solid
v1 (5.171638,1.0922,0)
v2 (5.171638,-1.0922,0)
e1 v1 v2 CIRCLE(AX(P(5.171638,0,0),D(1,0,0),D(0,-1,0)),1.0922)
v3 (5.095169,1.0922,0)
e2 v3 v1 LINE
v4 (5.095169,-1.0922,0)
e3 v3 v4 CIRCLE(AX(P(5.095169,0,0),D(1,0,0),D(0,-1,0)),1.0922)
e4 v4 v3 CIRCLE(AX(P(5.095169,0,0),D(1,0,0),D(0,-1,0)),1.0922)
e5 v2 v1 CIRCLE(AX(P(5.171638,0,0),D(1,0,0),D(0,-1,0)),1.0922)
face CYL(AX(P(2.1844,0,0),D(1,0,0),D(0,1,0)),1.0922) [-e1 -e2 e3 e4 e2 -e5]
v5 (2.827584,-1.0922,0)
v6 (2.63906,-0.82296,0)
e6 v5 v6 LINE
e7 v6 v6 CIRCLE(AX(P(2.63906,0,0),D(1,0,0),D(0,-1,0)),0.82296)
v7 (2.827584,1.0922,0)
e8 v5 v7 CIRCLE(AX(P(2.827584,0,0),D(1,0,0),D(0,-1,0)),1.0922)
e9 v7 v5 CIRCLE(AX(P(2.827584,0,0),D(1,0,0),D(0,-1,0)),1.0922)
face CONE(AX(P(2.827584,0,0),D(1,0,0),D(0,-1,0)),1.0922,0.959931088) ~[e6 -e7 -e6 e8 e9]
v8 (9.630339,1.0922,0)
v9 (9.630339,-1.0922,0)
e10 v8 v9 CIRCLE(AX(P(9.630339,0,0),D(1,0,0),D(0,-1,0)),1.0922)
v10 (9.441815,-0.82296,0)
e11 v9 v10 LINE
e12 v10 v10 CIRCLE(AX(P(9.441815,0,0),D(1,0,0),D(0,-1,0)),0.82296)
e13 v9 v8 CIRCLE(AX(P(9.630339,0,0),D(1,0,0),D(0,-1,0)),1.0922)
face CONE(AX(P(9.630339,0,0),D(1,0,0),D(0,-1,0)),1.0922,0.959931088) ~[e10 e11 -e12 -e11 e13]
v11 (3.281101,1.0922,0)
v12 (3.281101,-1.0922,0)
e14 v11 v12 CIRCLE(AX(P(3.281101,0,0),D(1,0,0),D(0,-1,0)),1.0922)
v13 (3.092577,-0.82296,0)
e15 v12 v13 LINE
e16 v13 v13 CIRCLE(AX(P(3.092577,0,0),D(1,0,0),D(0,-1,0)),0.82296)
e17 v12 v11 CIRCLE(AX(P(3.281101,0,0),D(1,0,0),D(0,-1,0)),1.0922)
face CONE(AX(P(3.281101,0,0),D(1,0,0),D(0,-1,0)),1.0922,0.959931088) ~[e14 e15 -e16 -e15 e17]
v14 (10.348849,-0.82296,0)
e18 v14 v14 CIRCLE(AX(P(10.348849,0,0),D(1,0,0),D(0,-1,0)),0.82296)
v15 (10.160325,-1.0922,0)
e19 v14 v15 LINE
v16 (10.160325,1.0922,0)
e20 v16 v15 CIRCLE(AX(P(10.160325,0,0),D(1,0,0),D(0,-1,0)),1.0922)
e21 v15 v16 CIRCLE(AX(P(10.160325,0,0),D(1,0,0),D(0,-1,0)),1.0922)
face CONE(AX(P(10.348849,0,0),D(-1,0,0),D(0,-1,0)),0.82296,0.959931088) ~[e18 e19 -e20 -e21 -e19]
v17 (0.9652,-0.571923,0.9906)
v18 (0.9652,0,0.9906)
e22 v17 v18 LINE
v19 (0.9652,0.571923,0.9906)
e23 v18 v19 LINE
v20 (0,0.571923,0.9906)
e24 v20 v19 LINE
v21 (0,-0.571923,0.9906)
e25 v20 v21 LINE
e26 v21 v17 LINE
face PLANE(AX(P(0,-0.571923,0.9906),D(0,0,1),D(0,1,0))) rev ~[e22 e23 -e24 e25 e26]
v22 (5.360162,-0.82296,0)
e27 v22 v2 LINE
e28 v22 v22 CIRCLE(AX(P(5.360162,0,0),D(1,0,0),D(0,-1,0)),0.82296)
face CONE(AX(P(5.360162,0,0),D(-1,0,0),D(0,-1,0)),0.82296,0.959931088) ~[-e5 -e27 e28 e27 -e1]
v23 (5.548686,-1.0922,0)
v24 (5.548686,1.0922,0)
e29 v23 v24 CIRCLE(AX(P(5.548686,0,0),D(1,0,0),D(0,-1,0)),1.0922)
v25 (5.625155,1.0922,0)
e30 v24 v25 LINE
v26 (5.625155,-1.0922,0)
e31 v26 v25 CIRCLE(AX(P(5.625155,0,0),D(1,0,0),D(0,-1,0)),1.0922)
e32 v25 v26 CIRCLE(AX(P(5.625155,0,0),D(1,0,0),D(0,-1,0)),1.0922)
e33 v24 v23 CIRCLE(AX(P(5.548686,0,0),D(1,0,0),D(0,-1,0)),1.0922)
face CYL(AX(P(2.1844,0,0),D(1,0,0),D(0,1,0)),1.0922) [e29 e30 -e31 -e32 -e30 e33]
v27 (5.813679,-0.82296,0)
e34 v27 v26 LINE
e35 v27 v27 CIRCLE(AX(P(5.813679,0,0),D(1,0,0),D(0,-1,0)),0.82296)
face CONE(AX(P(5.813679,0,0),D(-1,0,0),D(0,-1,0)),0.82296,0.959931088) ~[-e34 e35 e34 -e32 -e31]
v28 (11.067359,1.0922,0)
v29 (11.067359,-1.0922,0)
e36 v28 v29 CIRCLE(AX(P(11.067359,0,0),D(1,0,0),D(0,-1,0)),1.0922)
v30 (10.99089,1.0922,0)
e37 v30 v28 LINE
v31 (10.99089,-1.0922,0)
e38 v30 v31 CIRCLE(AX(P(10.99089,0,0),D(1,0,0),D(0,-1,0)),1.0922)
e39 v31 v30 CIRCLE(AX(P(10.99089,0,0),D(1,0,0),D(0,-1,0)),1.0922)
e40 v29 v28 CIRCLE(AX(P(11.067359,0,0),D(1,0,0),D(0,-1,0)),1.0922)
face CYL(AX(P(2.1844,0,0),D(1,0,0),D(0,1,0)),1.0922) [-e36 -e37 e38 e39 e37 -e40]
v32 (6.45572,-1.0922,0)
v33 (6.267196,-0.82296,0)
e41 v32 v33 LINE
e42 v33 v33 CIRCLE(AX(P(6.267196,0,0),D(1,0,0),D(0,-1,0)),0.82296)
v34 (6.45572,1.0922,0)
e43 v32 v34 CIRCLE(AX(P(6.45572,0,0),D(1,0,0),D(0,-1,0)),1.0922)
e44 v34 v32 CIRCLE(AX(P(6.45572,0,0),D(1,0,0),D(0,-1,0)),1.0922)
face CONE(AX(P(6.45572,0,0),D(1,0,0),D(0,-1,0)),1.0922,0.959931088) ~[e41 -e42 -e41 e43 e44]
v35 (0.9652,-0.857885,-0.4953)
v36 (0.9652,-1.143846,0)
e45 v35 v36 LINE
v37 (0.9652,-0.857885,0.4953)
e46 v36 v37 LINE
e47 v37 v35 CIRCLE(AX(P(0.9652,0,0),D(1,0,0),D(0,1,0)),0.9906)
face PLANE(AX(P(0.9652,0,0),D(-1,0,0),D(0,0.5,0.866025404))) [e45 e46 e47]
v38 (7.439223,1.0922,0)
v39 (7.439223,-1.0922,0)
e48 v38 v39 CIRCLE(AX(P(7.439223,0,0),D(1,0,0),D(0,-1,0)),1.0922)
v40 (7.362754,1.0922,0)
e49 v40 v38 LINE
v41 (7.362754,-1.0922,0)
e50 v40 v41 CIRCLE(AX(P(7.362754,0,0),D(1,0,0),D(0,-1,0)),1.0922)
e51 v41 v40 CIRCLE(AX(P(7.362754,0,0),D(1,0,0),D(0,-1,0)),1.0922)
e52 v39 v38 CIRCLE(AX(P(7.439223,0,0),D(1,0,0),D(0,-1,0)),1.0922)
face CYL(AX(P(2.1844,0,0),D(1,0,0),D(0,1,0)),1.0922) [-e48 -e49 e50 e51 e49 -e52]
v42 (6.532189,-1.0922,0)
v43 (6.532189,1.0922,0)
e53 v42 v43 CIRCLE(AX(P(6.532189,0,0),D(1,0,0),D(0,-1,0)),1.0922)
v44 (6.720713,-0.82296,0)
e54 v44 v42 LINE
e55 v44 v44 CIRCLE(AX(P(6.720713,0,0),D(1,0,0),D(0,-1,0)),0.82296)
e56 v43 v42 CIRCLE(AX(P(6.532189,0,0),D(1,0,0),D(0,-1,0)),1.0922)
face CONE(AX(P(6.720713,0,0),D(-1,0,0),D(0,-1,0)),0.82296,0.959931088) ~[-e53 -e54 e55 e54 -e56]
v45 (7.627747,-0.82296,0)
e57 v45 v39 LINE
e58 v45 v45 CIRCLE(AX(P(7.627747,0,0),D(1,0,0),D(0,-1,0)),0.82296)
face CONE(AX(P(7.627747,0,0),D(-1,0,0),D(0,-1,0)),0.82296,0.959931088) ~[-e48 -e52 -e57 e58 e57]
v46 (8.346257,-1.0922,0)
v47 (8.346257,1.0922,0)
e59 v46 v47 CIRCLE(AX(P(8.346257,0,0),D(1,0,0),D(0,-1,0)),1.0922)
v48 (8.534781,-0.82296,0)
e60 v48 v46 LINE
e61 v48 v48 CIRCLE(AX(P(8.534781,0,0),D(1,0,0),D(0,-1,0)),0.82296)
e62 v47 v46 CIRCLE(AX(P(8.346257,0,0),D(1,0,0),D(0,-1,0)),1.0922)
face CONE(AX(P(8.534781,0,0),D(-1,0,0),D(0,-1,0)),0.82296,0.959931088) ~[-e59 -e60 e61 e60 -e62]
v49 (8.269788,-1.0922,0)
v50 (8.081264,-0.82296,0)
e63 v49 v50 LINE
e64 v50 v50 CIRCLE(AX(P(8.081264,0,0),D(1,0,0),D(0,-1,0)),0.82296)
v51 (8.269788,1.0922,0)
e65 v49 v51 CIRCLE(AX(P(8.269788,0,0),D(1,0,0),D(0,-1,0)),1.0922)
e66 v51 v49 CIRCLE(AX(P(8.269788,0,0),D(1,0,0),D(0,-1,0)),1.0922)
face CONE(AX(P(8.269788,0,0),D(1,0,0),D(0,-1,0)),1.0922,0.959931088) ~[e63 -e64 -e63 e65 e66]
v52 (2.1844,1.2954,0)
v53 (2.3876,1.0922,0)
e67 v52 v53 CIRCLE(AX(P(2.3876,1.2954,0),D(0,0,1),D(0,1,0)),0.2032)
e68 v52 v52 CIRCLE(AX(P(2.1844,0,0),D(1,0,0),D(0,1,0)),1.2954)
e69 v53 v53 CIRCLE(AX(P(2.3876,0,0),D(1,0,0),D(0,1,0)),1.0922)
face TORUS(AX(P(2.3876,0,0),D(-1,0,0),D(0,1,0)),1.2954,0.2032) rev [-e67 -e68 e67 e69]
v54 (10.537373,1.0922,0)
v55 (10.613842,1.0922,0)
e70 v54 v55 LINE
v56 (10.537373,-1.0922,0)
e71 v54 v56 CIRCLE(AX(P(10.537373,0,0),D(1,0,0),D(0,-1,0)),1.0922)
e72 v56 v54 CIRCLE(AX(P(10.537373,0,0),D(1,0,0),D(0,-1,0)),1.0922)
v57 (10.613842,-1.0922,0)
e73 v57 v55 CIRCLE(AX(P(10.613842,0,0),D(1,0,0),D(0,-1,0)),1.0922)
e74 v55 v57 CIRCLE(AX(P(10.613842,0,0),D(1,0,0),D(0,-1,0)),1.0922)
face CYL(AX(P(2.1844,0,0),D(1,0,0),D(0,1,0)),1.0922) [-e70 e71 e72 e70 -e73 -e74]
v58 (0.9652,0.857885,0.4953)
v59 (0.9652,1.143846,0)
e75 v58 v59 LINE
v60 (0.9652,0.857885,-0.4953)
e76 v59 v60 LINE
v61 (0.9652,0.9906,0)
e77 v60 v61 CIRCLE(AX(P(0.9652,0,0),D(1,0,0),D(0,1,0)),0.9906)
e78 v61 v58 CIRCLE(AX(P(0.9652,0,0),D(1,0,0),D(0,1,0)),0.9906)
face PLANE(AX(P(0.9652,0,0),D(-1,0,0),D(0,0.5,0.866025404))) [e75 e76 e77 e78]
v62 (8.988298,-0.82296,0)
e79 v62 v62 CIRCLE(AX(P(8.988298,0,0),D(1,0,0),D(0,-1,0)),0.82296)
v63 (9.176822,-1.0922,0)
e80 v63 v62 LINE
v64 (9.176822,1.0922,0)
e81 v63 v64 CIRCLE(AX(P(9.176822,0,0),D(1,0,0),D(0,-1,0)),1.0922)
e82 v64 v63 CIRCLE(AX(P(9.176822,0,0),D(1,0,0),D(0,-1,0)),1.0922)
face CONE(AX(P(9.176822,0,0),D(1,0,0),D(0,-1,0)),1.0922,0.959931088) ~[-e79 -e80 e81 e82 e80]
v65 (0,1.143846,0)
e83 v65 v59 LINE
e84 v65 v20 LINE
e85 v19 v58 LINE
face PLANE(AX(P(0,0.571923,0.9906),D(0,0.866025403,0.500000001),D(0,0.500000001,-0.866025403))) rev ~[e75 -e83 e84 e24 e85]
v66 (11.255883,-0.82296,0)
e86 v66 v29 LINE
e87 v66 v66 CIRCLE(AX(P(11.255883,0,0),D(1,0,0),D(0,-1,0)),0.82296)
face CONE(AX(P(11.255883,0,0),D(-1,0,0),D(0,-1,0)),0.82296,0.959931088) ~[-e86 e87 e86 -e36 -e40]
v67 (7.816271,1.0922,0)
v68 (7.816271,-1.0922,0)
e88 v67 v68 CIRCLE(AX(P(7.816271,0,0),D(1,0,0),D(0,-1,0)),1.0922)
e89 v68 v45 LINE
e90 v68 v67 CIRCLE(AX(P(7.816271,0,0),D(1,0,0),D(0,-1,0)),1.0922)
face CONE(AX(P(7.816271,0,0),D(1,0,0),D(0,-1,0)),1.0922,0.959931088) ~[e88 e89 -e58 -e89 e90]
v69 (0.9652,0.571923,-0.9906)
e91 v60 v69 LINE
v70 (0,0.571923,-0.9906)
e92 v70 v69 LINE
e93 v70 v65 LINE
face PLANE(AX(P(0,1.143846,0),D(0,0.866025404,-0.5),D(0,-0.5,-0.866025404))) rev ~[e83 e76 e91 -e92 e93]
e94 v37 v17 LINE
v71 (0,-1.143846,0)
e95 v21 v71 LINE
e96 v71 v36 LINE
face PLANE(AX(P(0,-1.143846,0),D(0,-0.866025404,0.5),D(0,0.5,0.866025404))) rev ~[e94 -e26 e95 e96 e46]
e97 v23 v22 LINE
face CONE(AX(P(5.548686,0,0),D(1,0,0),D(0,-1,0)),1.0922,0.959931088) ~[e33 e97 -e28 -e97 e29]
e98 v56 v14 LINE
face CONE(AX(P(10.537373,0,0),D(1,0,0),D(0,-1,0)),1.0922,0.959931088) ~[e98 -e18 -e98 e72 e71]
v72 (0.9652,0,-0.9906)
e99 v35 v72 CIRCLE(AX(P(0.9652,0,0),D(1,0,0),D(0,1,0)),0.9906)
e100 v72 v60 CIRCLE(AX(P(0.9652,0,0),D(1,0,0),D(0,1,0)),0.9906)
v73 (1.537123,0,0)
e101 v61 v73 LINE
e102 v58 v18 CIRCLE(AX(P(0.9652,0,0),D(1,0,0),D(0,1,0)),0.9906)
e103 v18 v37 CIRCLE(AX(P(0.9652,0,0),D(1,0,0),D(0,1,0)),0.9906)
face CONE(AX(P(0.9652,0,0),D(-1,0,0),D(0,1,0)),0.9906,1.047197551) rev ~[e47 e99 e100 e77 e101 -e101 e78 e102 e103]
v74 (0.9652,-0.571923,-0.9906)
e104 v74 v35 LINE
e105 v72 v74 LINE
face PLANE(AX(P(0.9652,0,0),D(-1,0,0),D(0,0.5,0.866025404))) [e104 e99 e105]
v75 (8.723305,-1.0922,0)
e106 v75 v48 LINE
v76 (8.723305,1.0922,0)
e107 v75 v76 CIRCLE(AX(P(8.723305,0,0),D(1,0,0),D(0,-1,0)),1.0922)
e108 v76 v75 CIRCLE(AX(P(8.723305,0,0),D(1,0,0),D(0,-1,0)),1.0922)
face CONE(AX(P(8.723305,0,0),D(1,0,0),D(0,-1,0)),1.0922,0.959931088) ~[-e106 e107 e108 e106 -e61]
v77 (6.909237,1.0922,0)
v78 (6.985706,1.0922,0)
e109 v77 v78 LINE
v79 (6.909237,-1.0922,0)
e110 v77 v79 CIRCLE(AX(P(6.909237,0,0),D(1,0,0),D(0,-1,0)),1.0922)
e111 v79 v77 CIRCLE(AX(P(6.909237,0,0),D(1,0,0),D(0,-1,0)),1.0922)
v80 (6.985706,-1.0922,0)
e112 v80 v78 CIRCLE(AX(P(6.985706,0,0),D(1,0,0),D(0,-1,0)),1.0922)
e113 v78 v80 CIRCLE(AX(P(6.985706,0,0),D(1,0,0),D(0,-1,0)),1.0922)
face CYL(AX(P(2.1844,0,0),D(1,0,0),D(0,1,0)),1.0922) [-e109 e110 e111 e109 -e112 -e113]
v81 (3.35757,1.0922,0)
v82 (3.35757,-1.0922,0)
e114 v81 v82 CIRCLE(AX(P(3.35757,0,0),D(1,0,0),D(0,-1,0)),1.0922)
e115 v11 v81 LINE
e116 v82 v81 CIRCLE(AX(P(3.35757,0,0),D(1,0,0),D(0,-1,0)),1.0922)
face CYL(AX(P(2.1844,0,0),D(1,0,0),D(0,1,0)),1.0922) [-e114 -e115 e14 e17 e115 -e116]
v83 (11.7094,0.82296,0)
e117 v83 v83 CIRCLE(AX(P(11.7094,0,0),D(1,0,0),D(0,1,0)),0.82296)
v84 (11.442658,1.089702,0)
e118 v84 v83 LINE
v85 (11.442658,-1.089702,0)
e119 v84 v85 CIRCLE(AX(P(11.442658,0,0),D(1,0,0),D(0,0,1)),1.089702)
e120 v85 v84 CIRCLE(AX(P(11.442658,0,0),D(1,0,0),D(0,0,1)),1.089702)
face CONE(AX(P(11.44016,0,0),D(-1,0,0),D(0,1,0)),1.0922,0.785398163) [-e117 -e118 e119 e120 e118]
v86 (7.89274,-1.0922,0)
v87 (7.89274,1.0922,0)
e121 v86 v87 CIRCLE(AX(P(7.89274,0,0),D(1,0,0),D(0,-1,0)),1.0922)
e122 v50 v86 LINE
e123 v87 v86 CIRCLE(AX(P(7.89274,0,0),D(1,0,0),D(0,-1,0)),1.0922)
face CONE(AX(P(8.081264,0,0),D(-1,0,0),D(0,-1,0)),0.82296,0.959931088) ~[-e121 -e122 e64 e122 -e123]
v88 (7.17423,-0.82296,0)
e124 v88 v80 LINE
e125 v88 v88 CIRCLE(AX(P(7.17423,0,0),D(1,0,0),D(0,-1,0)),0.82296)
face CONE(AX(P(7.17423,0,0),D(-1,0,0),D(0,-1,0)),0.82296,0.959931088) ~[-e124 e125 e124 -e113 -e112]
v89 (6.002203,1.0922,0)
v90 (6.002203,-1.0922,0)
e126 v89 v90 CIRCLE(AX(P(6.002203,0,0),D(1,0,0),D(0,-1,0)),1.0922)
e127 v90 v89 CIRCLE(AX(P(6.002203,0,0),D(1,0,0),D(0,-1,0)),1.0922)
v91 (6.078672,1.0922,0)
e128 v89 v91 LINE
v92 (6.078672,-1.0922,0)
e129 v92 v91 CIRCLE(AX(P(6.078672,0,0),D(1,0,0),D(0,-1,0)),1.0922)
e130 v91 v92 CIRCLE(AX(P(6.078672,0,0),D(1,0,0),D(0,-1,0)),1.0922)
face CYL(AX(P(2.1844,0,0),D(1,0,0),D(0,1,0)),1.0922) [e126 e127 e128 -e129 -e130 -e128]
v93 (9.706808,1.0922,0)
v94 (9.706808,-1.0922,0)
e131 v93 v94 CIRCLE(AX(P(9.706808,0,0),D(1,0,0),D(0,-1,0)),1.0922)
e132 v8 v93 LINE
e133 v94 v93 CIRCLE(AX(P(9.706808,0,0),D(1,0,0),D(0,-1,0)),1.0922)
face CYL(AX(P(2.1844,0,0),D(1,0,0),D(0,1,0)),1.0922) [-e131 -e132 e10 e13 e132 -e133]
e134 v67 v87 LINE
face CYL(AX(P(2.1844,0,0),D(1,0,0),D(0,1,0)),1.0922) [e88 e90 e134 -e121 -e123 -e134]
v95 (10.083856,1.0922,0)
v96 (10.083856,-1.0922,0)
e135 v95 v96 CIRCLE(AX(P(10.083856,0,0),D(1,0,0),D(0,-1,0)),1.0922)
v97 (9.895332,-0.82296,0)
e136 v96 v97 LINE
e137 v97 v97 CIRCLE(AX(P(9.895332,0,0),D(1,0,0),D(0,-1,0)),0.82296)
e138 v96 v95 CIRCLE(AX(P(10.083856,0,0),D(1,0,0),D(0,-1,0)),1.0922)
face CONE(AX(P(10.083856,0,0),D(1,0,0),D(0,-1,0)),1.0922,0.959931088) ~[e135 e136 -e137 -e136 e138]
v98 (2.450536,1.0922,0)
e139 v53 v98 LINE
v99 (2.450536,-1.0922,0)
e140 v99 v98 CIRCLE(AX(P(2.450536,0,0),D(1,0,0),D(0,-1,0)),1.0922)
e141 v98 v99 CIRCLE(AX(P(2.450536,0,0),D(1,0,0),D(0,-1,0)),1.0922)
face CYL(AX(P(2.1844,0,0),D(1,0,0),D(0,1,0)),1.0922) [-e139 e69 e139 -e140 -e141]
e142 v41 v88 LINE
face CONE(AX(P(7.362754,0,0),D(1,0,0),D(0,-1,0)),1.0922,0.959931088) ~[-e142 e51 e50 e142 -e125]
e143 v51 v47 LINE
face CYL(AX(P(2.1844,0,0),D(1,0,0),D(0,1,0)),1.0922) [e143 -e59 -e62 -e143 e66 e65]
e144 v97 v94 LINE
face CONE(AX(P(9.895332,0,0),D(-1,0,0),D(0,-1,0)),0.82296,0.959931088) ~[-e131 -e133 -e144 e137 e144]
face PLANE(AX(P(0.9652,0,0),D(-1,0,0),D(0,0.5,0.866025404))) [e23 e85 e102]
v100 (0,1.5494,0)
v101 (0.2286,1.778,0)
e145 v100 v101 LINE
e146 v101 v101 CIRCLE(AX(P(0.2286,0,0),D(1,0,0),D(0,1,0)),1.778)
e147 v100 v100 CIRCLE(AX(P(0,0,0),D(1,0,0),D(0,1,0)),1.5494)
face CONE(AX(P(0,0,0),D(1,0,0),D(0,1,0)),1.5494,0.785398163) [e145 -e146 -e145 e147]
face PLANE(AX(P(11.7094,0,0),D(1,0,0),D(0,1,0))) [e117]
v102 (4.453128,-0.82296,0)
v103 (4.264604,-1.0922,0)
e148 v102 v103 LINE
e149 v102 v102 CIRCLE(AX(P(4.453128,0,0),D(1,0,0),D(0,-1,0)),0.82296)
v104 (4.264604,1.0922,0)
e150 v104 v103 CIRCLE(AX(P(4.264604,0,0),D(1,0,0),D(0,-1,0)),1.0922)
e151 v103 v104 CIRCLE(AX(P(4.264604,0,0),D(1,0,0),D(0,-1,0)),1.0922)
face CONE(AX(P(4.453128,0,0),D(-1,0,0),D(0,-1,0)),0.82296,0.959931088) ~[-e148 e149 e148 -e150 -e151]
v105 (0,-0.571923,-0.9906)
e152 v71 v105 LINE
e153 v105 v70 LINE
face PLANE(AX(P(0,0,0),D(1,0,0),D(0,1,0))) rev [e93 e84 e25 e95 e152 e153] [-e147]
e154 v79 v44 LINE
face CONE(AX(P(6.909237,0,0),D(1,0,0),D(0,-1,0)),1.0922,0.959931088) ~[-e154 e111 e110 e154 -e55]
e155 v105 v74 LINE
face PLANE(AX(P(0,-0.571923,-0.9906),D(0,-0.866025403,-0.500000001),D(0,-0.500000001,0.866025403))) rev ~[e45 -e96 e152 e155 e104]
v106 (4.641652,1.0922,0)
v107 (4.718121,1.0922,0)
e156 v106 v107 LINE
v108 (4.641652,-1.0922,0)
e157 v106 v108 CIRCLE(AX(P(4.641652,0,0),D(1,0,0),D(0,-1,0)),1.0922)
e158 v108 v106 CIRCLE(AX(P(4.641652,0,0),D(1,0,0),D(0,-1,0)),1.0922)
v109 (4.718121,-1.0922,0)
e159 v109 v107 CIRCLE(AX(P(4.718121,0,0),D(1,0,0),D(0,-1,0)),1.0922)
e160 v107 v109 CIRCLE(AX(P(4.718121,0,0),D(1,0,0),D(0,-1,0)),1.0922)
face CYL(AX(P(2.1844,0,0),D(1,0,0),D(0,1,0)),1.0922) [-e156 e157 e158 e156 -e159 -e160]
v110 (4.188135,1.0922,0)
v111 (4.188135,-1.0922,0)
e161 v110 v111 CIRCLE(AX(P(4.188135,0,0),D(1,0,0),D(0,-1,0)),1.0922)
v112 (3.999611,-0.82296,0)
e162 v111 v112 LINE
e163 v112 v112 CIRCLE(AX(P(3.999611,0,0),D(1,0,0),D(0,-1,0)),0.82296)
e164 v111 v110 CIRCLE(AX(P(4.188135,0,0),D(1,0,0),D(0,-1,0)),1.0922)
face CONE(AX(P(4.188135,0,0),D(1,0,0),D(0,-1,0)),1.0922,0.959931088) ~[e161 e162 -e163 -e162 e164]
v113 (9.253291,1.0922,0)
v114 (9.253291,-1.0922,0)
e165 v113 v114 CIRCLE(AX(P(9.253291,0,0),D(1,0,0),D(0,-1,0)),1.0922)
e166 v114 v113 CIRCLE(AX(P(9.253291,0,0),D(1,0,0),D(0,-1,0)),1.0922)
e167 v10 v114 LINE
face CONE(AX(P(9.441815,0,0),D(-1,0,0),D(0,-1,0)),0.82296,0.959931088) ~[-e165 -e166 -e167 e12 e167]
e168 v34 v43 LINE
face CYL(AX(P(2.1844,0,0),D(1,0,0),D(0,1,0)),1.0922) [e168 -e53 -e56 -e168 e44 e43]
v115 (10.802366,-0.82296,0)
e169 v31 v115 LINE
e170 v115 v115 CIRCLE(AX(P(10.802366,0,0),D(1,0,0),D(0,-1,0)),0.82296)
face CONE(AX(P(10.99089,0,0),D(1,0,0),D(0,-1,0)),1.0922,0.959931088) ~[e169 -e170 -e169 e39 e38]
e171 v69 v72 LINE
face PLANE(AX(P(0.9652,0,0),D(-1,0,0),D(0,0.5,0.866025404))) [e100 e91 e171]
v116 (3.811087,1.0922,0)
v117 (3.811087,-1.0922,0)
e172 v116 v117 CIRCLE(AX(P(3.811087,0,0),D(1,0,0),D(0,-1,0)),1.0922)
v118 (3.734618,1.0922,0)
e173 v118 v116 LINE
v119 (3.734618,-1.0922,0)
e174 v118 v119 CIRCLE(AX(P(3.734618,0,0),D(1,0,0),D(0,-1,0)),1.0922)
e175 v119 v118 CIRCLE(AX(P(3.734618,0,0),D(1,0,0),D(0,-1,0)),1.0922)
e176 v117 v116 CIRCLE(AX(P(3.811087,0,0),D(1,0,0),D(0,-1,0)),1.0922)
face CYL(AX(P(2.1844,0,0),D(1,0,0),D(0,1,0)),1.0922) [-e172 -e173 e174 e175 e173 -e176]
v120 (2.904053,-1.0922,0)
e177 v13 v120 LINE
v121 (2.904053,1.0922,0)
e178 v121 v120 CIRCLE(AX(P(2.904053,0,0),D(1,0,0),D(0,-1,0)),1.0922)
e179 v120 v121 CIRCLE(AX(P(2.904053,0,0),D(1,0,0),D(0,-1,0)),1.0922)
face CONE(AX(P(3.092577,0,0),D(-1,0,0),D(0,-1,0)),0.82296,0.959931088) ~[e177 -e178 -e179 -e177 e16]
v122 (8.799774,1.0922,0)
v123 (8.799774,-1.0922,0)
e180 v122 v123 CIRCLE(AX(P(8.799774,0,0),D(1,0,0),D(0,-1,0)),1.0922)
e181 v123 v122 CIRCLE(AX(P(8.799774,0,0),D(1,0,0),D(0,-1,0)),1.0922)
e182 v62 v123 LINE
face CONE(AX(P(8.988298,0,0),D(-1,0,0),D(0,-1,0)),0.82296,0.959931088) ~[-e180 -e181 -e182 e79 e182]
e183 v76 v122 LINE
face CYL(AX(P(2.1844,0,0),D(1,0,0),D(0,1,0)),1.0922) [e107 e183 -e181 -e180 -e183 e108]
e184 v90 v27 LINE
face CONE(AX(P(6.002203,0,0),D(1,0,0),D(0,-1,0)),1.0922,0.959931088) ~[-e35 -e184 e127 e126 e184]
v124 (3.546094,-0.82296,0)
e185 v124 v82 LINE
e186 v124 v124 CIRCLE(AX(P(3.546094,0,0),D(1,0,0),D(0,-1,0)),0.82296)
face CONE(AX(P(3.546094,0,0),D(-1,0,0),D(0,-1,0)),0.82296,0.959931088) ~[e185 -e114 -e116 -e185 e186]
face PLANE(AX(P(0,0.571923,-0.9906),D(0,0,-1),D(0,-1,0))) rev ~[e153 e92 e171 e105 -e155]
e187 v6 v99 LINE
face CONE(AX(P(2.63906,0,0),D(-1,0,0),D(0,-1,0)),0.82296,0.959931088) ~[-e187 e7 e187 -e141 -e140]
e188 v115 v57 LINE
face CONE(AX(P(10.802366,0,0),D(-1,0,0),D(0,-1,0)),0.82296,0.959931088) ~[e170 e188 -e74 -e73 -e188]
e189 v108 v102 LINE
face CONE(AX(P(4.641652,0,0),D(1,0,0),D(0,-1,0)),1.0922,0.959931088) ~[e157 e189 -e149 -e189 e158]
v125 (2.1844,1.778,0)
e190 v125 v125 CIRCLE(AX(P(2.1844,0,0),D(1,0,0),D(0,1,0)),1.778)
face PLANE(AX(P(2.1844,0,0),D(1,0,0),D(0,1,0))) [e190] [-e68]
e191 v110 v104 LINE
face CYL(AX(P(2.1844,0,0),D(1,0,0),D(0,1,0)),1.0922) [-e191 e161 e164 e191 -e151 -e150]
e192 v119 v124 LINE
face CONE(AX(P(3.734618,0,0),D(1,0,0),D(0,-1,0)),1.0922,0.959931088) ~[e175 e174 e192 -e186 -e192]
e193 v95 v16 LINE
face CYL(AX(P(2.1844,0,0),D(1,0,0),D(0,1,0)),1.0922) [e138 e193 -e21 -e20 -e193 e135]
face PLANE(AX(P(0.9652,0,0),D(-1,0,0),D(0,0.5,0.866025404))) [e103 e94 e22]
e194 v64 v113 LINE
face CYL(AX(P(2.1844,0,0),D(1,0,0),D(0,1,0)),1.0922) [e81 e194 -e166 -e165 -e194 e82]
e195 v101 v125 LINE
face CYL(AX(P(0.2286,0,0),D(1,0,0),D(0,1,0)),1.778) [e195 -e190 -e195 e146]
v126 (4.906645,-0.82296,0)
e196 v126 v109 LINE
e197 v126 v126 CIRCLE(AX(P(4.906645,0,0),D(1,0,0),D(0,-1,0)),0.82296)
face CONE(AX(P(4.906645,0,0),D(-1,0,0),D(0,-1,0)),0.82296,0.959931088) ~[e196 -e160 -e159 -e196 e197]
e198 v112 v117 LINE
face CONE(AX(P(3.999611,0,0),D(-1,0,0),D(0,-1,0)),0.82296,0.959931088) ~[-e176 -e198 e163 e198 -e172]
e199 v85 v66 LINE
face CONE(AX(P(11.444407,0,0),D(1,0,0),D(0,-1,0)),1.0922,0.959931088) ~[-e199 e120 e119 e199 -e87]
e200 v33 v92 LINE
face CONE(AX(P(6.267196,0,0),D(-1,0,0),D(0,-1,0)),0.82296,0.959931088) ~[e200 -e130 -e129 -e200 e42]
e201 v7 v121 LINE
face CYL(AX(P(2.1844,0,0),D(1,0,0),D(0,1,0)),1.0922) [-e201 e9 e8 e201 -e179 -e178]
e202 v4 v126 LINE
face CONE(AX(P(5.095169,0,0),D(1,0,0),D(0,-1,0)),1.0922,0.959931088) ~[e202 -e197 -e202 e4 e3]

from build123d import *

# Parameters (mm, degrees)
FILLET1_R       = 0.2032
HEX_2_DEPTH     = 0.9652
THDSCHPAT_COUNT = 20
THDSCHPAT_PITCH = 0.453517


with BuildPart() as part:
    # BodySke → Base-Revolve (revolve)
    with BuildSketch(Plane.XY):
        Polygon((0, 0), (0, 1.5494), (0.2286, 1.778), (2.1844, 1.778), (2.1844, 1.0922), (11.44016, 1.0922), (11.7094, 0.82296), (11.7094, 0), align=None)
    revolve(axis=Axis((-31.75, 0, 0), (1, 0, 0)))

    # Fillet1
    fillet1_edges = [part.edges().sort_by_distance(p)[0] for p in [
        (2.1844, -1.0922, 0),
    ]]
    fillet(fillet1_edges, radius=FILLET1_R)

    # Sketch2 → Hex-PreBroach (revolve, cut)
    with BuildSketch(Plane.XY):
        Polygon((0, 0.9906), (0.9652, 0.9906), (1.537123177, 0), (0, 0), align=None)
    revolve(axis=Axis((0, 0, 0), (1, 0, 0)), mode=Mode.SUBTRACT)

    # Sketch3 → Hex 2 (cut)
    with BuildSketch(Plane(origin=(0, 0, 0), x_dir=(0, 0.5, 0.866025404), z_dir=(-1, 0, 0))):
        Polygon((0.571923177, 0.9906), (-0.571923177, 0.9906), (-1.143846353, 0), (-0.571923177, -0.9906), (0.571923177, -0.9906), (1.143846353, 0), align=None)
    extrude(amount=-HEX_2_DEPTH, mode=Mode.SUBTRACT)

    # ThdSchSke → ThreadSchematic (revolve, cut)
    with BuildSketch(Plane.XY):
        Polygon((2.63906, -0.82296), (2.450536122, -1.0922), (2.450536122, -1.36525), (2.827583878, -1.36525), (2.827583878, -1.0922), align=None)
    threadschematic = revolve(axis=Axis((-3.175, 0, 0), (1, 0, 0)), mode=Mode.SUBTRACT)

    # ThdSchPat: ThreadSchematic ×20
    with Locations(*[(i * THDSCHPAT_PITCH, 0, 0) for i in range(1, THDSCHPAT_COUNT)]):
        add(threadschematic, mode=Mode.SUBTRACT)


solid = part.part
